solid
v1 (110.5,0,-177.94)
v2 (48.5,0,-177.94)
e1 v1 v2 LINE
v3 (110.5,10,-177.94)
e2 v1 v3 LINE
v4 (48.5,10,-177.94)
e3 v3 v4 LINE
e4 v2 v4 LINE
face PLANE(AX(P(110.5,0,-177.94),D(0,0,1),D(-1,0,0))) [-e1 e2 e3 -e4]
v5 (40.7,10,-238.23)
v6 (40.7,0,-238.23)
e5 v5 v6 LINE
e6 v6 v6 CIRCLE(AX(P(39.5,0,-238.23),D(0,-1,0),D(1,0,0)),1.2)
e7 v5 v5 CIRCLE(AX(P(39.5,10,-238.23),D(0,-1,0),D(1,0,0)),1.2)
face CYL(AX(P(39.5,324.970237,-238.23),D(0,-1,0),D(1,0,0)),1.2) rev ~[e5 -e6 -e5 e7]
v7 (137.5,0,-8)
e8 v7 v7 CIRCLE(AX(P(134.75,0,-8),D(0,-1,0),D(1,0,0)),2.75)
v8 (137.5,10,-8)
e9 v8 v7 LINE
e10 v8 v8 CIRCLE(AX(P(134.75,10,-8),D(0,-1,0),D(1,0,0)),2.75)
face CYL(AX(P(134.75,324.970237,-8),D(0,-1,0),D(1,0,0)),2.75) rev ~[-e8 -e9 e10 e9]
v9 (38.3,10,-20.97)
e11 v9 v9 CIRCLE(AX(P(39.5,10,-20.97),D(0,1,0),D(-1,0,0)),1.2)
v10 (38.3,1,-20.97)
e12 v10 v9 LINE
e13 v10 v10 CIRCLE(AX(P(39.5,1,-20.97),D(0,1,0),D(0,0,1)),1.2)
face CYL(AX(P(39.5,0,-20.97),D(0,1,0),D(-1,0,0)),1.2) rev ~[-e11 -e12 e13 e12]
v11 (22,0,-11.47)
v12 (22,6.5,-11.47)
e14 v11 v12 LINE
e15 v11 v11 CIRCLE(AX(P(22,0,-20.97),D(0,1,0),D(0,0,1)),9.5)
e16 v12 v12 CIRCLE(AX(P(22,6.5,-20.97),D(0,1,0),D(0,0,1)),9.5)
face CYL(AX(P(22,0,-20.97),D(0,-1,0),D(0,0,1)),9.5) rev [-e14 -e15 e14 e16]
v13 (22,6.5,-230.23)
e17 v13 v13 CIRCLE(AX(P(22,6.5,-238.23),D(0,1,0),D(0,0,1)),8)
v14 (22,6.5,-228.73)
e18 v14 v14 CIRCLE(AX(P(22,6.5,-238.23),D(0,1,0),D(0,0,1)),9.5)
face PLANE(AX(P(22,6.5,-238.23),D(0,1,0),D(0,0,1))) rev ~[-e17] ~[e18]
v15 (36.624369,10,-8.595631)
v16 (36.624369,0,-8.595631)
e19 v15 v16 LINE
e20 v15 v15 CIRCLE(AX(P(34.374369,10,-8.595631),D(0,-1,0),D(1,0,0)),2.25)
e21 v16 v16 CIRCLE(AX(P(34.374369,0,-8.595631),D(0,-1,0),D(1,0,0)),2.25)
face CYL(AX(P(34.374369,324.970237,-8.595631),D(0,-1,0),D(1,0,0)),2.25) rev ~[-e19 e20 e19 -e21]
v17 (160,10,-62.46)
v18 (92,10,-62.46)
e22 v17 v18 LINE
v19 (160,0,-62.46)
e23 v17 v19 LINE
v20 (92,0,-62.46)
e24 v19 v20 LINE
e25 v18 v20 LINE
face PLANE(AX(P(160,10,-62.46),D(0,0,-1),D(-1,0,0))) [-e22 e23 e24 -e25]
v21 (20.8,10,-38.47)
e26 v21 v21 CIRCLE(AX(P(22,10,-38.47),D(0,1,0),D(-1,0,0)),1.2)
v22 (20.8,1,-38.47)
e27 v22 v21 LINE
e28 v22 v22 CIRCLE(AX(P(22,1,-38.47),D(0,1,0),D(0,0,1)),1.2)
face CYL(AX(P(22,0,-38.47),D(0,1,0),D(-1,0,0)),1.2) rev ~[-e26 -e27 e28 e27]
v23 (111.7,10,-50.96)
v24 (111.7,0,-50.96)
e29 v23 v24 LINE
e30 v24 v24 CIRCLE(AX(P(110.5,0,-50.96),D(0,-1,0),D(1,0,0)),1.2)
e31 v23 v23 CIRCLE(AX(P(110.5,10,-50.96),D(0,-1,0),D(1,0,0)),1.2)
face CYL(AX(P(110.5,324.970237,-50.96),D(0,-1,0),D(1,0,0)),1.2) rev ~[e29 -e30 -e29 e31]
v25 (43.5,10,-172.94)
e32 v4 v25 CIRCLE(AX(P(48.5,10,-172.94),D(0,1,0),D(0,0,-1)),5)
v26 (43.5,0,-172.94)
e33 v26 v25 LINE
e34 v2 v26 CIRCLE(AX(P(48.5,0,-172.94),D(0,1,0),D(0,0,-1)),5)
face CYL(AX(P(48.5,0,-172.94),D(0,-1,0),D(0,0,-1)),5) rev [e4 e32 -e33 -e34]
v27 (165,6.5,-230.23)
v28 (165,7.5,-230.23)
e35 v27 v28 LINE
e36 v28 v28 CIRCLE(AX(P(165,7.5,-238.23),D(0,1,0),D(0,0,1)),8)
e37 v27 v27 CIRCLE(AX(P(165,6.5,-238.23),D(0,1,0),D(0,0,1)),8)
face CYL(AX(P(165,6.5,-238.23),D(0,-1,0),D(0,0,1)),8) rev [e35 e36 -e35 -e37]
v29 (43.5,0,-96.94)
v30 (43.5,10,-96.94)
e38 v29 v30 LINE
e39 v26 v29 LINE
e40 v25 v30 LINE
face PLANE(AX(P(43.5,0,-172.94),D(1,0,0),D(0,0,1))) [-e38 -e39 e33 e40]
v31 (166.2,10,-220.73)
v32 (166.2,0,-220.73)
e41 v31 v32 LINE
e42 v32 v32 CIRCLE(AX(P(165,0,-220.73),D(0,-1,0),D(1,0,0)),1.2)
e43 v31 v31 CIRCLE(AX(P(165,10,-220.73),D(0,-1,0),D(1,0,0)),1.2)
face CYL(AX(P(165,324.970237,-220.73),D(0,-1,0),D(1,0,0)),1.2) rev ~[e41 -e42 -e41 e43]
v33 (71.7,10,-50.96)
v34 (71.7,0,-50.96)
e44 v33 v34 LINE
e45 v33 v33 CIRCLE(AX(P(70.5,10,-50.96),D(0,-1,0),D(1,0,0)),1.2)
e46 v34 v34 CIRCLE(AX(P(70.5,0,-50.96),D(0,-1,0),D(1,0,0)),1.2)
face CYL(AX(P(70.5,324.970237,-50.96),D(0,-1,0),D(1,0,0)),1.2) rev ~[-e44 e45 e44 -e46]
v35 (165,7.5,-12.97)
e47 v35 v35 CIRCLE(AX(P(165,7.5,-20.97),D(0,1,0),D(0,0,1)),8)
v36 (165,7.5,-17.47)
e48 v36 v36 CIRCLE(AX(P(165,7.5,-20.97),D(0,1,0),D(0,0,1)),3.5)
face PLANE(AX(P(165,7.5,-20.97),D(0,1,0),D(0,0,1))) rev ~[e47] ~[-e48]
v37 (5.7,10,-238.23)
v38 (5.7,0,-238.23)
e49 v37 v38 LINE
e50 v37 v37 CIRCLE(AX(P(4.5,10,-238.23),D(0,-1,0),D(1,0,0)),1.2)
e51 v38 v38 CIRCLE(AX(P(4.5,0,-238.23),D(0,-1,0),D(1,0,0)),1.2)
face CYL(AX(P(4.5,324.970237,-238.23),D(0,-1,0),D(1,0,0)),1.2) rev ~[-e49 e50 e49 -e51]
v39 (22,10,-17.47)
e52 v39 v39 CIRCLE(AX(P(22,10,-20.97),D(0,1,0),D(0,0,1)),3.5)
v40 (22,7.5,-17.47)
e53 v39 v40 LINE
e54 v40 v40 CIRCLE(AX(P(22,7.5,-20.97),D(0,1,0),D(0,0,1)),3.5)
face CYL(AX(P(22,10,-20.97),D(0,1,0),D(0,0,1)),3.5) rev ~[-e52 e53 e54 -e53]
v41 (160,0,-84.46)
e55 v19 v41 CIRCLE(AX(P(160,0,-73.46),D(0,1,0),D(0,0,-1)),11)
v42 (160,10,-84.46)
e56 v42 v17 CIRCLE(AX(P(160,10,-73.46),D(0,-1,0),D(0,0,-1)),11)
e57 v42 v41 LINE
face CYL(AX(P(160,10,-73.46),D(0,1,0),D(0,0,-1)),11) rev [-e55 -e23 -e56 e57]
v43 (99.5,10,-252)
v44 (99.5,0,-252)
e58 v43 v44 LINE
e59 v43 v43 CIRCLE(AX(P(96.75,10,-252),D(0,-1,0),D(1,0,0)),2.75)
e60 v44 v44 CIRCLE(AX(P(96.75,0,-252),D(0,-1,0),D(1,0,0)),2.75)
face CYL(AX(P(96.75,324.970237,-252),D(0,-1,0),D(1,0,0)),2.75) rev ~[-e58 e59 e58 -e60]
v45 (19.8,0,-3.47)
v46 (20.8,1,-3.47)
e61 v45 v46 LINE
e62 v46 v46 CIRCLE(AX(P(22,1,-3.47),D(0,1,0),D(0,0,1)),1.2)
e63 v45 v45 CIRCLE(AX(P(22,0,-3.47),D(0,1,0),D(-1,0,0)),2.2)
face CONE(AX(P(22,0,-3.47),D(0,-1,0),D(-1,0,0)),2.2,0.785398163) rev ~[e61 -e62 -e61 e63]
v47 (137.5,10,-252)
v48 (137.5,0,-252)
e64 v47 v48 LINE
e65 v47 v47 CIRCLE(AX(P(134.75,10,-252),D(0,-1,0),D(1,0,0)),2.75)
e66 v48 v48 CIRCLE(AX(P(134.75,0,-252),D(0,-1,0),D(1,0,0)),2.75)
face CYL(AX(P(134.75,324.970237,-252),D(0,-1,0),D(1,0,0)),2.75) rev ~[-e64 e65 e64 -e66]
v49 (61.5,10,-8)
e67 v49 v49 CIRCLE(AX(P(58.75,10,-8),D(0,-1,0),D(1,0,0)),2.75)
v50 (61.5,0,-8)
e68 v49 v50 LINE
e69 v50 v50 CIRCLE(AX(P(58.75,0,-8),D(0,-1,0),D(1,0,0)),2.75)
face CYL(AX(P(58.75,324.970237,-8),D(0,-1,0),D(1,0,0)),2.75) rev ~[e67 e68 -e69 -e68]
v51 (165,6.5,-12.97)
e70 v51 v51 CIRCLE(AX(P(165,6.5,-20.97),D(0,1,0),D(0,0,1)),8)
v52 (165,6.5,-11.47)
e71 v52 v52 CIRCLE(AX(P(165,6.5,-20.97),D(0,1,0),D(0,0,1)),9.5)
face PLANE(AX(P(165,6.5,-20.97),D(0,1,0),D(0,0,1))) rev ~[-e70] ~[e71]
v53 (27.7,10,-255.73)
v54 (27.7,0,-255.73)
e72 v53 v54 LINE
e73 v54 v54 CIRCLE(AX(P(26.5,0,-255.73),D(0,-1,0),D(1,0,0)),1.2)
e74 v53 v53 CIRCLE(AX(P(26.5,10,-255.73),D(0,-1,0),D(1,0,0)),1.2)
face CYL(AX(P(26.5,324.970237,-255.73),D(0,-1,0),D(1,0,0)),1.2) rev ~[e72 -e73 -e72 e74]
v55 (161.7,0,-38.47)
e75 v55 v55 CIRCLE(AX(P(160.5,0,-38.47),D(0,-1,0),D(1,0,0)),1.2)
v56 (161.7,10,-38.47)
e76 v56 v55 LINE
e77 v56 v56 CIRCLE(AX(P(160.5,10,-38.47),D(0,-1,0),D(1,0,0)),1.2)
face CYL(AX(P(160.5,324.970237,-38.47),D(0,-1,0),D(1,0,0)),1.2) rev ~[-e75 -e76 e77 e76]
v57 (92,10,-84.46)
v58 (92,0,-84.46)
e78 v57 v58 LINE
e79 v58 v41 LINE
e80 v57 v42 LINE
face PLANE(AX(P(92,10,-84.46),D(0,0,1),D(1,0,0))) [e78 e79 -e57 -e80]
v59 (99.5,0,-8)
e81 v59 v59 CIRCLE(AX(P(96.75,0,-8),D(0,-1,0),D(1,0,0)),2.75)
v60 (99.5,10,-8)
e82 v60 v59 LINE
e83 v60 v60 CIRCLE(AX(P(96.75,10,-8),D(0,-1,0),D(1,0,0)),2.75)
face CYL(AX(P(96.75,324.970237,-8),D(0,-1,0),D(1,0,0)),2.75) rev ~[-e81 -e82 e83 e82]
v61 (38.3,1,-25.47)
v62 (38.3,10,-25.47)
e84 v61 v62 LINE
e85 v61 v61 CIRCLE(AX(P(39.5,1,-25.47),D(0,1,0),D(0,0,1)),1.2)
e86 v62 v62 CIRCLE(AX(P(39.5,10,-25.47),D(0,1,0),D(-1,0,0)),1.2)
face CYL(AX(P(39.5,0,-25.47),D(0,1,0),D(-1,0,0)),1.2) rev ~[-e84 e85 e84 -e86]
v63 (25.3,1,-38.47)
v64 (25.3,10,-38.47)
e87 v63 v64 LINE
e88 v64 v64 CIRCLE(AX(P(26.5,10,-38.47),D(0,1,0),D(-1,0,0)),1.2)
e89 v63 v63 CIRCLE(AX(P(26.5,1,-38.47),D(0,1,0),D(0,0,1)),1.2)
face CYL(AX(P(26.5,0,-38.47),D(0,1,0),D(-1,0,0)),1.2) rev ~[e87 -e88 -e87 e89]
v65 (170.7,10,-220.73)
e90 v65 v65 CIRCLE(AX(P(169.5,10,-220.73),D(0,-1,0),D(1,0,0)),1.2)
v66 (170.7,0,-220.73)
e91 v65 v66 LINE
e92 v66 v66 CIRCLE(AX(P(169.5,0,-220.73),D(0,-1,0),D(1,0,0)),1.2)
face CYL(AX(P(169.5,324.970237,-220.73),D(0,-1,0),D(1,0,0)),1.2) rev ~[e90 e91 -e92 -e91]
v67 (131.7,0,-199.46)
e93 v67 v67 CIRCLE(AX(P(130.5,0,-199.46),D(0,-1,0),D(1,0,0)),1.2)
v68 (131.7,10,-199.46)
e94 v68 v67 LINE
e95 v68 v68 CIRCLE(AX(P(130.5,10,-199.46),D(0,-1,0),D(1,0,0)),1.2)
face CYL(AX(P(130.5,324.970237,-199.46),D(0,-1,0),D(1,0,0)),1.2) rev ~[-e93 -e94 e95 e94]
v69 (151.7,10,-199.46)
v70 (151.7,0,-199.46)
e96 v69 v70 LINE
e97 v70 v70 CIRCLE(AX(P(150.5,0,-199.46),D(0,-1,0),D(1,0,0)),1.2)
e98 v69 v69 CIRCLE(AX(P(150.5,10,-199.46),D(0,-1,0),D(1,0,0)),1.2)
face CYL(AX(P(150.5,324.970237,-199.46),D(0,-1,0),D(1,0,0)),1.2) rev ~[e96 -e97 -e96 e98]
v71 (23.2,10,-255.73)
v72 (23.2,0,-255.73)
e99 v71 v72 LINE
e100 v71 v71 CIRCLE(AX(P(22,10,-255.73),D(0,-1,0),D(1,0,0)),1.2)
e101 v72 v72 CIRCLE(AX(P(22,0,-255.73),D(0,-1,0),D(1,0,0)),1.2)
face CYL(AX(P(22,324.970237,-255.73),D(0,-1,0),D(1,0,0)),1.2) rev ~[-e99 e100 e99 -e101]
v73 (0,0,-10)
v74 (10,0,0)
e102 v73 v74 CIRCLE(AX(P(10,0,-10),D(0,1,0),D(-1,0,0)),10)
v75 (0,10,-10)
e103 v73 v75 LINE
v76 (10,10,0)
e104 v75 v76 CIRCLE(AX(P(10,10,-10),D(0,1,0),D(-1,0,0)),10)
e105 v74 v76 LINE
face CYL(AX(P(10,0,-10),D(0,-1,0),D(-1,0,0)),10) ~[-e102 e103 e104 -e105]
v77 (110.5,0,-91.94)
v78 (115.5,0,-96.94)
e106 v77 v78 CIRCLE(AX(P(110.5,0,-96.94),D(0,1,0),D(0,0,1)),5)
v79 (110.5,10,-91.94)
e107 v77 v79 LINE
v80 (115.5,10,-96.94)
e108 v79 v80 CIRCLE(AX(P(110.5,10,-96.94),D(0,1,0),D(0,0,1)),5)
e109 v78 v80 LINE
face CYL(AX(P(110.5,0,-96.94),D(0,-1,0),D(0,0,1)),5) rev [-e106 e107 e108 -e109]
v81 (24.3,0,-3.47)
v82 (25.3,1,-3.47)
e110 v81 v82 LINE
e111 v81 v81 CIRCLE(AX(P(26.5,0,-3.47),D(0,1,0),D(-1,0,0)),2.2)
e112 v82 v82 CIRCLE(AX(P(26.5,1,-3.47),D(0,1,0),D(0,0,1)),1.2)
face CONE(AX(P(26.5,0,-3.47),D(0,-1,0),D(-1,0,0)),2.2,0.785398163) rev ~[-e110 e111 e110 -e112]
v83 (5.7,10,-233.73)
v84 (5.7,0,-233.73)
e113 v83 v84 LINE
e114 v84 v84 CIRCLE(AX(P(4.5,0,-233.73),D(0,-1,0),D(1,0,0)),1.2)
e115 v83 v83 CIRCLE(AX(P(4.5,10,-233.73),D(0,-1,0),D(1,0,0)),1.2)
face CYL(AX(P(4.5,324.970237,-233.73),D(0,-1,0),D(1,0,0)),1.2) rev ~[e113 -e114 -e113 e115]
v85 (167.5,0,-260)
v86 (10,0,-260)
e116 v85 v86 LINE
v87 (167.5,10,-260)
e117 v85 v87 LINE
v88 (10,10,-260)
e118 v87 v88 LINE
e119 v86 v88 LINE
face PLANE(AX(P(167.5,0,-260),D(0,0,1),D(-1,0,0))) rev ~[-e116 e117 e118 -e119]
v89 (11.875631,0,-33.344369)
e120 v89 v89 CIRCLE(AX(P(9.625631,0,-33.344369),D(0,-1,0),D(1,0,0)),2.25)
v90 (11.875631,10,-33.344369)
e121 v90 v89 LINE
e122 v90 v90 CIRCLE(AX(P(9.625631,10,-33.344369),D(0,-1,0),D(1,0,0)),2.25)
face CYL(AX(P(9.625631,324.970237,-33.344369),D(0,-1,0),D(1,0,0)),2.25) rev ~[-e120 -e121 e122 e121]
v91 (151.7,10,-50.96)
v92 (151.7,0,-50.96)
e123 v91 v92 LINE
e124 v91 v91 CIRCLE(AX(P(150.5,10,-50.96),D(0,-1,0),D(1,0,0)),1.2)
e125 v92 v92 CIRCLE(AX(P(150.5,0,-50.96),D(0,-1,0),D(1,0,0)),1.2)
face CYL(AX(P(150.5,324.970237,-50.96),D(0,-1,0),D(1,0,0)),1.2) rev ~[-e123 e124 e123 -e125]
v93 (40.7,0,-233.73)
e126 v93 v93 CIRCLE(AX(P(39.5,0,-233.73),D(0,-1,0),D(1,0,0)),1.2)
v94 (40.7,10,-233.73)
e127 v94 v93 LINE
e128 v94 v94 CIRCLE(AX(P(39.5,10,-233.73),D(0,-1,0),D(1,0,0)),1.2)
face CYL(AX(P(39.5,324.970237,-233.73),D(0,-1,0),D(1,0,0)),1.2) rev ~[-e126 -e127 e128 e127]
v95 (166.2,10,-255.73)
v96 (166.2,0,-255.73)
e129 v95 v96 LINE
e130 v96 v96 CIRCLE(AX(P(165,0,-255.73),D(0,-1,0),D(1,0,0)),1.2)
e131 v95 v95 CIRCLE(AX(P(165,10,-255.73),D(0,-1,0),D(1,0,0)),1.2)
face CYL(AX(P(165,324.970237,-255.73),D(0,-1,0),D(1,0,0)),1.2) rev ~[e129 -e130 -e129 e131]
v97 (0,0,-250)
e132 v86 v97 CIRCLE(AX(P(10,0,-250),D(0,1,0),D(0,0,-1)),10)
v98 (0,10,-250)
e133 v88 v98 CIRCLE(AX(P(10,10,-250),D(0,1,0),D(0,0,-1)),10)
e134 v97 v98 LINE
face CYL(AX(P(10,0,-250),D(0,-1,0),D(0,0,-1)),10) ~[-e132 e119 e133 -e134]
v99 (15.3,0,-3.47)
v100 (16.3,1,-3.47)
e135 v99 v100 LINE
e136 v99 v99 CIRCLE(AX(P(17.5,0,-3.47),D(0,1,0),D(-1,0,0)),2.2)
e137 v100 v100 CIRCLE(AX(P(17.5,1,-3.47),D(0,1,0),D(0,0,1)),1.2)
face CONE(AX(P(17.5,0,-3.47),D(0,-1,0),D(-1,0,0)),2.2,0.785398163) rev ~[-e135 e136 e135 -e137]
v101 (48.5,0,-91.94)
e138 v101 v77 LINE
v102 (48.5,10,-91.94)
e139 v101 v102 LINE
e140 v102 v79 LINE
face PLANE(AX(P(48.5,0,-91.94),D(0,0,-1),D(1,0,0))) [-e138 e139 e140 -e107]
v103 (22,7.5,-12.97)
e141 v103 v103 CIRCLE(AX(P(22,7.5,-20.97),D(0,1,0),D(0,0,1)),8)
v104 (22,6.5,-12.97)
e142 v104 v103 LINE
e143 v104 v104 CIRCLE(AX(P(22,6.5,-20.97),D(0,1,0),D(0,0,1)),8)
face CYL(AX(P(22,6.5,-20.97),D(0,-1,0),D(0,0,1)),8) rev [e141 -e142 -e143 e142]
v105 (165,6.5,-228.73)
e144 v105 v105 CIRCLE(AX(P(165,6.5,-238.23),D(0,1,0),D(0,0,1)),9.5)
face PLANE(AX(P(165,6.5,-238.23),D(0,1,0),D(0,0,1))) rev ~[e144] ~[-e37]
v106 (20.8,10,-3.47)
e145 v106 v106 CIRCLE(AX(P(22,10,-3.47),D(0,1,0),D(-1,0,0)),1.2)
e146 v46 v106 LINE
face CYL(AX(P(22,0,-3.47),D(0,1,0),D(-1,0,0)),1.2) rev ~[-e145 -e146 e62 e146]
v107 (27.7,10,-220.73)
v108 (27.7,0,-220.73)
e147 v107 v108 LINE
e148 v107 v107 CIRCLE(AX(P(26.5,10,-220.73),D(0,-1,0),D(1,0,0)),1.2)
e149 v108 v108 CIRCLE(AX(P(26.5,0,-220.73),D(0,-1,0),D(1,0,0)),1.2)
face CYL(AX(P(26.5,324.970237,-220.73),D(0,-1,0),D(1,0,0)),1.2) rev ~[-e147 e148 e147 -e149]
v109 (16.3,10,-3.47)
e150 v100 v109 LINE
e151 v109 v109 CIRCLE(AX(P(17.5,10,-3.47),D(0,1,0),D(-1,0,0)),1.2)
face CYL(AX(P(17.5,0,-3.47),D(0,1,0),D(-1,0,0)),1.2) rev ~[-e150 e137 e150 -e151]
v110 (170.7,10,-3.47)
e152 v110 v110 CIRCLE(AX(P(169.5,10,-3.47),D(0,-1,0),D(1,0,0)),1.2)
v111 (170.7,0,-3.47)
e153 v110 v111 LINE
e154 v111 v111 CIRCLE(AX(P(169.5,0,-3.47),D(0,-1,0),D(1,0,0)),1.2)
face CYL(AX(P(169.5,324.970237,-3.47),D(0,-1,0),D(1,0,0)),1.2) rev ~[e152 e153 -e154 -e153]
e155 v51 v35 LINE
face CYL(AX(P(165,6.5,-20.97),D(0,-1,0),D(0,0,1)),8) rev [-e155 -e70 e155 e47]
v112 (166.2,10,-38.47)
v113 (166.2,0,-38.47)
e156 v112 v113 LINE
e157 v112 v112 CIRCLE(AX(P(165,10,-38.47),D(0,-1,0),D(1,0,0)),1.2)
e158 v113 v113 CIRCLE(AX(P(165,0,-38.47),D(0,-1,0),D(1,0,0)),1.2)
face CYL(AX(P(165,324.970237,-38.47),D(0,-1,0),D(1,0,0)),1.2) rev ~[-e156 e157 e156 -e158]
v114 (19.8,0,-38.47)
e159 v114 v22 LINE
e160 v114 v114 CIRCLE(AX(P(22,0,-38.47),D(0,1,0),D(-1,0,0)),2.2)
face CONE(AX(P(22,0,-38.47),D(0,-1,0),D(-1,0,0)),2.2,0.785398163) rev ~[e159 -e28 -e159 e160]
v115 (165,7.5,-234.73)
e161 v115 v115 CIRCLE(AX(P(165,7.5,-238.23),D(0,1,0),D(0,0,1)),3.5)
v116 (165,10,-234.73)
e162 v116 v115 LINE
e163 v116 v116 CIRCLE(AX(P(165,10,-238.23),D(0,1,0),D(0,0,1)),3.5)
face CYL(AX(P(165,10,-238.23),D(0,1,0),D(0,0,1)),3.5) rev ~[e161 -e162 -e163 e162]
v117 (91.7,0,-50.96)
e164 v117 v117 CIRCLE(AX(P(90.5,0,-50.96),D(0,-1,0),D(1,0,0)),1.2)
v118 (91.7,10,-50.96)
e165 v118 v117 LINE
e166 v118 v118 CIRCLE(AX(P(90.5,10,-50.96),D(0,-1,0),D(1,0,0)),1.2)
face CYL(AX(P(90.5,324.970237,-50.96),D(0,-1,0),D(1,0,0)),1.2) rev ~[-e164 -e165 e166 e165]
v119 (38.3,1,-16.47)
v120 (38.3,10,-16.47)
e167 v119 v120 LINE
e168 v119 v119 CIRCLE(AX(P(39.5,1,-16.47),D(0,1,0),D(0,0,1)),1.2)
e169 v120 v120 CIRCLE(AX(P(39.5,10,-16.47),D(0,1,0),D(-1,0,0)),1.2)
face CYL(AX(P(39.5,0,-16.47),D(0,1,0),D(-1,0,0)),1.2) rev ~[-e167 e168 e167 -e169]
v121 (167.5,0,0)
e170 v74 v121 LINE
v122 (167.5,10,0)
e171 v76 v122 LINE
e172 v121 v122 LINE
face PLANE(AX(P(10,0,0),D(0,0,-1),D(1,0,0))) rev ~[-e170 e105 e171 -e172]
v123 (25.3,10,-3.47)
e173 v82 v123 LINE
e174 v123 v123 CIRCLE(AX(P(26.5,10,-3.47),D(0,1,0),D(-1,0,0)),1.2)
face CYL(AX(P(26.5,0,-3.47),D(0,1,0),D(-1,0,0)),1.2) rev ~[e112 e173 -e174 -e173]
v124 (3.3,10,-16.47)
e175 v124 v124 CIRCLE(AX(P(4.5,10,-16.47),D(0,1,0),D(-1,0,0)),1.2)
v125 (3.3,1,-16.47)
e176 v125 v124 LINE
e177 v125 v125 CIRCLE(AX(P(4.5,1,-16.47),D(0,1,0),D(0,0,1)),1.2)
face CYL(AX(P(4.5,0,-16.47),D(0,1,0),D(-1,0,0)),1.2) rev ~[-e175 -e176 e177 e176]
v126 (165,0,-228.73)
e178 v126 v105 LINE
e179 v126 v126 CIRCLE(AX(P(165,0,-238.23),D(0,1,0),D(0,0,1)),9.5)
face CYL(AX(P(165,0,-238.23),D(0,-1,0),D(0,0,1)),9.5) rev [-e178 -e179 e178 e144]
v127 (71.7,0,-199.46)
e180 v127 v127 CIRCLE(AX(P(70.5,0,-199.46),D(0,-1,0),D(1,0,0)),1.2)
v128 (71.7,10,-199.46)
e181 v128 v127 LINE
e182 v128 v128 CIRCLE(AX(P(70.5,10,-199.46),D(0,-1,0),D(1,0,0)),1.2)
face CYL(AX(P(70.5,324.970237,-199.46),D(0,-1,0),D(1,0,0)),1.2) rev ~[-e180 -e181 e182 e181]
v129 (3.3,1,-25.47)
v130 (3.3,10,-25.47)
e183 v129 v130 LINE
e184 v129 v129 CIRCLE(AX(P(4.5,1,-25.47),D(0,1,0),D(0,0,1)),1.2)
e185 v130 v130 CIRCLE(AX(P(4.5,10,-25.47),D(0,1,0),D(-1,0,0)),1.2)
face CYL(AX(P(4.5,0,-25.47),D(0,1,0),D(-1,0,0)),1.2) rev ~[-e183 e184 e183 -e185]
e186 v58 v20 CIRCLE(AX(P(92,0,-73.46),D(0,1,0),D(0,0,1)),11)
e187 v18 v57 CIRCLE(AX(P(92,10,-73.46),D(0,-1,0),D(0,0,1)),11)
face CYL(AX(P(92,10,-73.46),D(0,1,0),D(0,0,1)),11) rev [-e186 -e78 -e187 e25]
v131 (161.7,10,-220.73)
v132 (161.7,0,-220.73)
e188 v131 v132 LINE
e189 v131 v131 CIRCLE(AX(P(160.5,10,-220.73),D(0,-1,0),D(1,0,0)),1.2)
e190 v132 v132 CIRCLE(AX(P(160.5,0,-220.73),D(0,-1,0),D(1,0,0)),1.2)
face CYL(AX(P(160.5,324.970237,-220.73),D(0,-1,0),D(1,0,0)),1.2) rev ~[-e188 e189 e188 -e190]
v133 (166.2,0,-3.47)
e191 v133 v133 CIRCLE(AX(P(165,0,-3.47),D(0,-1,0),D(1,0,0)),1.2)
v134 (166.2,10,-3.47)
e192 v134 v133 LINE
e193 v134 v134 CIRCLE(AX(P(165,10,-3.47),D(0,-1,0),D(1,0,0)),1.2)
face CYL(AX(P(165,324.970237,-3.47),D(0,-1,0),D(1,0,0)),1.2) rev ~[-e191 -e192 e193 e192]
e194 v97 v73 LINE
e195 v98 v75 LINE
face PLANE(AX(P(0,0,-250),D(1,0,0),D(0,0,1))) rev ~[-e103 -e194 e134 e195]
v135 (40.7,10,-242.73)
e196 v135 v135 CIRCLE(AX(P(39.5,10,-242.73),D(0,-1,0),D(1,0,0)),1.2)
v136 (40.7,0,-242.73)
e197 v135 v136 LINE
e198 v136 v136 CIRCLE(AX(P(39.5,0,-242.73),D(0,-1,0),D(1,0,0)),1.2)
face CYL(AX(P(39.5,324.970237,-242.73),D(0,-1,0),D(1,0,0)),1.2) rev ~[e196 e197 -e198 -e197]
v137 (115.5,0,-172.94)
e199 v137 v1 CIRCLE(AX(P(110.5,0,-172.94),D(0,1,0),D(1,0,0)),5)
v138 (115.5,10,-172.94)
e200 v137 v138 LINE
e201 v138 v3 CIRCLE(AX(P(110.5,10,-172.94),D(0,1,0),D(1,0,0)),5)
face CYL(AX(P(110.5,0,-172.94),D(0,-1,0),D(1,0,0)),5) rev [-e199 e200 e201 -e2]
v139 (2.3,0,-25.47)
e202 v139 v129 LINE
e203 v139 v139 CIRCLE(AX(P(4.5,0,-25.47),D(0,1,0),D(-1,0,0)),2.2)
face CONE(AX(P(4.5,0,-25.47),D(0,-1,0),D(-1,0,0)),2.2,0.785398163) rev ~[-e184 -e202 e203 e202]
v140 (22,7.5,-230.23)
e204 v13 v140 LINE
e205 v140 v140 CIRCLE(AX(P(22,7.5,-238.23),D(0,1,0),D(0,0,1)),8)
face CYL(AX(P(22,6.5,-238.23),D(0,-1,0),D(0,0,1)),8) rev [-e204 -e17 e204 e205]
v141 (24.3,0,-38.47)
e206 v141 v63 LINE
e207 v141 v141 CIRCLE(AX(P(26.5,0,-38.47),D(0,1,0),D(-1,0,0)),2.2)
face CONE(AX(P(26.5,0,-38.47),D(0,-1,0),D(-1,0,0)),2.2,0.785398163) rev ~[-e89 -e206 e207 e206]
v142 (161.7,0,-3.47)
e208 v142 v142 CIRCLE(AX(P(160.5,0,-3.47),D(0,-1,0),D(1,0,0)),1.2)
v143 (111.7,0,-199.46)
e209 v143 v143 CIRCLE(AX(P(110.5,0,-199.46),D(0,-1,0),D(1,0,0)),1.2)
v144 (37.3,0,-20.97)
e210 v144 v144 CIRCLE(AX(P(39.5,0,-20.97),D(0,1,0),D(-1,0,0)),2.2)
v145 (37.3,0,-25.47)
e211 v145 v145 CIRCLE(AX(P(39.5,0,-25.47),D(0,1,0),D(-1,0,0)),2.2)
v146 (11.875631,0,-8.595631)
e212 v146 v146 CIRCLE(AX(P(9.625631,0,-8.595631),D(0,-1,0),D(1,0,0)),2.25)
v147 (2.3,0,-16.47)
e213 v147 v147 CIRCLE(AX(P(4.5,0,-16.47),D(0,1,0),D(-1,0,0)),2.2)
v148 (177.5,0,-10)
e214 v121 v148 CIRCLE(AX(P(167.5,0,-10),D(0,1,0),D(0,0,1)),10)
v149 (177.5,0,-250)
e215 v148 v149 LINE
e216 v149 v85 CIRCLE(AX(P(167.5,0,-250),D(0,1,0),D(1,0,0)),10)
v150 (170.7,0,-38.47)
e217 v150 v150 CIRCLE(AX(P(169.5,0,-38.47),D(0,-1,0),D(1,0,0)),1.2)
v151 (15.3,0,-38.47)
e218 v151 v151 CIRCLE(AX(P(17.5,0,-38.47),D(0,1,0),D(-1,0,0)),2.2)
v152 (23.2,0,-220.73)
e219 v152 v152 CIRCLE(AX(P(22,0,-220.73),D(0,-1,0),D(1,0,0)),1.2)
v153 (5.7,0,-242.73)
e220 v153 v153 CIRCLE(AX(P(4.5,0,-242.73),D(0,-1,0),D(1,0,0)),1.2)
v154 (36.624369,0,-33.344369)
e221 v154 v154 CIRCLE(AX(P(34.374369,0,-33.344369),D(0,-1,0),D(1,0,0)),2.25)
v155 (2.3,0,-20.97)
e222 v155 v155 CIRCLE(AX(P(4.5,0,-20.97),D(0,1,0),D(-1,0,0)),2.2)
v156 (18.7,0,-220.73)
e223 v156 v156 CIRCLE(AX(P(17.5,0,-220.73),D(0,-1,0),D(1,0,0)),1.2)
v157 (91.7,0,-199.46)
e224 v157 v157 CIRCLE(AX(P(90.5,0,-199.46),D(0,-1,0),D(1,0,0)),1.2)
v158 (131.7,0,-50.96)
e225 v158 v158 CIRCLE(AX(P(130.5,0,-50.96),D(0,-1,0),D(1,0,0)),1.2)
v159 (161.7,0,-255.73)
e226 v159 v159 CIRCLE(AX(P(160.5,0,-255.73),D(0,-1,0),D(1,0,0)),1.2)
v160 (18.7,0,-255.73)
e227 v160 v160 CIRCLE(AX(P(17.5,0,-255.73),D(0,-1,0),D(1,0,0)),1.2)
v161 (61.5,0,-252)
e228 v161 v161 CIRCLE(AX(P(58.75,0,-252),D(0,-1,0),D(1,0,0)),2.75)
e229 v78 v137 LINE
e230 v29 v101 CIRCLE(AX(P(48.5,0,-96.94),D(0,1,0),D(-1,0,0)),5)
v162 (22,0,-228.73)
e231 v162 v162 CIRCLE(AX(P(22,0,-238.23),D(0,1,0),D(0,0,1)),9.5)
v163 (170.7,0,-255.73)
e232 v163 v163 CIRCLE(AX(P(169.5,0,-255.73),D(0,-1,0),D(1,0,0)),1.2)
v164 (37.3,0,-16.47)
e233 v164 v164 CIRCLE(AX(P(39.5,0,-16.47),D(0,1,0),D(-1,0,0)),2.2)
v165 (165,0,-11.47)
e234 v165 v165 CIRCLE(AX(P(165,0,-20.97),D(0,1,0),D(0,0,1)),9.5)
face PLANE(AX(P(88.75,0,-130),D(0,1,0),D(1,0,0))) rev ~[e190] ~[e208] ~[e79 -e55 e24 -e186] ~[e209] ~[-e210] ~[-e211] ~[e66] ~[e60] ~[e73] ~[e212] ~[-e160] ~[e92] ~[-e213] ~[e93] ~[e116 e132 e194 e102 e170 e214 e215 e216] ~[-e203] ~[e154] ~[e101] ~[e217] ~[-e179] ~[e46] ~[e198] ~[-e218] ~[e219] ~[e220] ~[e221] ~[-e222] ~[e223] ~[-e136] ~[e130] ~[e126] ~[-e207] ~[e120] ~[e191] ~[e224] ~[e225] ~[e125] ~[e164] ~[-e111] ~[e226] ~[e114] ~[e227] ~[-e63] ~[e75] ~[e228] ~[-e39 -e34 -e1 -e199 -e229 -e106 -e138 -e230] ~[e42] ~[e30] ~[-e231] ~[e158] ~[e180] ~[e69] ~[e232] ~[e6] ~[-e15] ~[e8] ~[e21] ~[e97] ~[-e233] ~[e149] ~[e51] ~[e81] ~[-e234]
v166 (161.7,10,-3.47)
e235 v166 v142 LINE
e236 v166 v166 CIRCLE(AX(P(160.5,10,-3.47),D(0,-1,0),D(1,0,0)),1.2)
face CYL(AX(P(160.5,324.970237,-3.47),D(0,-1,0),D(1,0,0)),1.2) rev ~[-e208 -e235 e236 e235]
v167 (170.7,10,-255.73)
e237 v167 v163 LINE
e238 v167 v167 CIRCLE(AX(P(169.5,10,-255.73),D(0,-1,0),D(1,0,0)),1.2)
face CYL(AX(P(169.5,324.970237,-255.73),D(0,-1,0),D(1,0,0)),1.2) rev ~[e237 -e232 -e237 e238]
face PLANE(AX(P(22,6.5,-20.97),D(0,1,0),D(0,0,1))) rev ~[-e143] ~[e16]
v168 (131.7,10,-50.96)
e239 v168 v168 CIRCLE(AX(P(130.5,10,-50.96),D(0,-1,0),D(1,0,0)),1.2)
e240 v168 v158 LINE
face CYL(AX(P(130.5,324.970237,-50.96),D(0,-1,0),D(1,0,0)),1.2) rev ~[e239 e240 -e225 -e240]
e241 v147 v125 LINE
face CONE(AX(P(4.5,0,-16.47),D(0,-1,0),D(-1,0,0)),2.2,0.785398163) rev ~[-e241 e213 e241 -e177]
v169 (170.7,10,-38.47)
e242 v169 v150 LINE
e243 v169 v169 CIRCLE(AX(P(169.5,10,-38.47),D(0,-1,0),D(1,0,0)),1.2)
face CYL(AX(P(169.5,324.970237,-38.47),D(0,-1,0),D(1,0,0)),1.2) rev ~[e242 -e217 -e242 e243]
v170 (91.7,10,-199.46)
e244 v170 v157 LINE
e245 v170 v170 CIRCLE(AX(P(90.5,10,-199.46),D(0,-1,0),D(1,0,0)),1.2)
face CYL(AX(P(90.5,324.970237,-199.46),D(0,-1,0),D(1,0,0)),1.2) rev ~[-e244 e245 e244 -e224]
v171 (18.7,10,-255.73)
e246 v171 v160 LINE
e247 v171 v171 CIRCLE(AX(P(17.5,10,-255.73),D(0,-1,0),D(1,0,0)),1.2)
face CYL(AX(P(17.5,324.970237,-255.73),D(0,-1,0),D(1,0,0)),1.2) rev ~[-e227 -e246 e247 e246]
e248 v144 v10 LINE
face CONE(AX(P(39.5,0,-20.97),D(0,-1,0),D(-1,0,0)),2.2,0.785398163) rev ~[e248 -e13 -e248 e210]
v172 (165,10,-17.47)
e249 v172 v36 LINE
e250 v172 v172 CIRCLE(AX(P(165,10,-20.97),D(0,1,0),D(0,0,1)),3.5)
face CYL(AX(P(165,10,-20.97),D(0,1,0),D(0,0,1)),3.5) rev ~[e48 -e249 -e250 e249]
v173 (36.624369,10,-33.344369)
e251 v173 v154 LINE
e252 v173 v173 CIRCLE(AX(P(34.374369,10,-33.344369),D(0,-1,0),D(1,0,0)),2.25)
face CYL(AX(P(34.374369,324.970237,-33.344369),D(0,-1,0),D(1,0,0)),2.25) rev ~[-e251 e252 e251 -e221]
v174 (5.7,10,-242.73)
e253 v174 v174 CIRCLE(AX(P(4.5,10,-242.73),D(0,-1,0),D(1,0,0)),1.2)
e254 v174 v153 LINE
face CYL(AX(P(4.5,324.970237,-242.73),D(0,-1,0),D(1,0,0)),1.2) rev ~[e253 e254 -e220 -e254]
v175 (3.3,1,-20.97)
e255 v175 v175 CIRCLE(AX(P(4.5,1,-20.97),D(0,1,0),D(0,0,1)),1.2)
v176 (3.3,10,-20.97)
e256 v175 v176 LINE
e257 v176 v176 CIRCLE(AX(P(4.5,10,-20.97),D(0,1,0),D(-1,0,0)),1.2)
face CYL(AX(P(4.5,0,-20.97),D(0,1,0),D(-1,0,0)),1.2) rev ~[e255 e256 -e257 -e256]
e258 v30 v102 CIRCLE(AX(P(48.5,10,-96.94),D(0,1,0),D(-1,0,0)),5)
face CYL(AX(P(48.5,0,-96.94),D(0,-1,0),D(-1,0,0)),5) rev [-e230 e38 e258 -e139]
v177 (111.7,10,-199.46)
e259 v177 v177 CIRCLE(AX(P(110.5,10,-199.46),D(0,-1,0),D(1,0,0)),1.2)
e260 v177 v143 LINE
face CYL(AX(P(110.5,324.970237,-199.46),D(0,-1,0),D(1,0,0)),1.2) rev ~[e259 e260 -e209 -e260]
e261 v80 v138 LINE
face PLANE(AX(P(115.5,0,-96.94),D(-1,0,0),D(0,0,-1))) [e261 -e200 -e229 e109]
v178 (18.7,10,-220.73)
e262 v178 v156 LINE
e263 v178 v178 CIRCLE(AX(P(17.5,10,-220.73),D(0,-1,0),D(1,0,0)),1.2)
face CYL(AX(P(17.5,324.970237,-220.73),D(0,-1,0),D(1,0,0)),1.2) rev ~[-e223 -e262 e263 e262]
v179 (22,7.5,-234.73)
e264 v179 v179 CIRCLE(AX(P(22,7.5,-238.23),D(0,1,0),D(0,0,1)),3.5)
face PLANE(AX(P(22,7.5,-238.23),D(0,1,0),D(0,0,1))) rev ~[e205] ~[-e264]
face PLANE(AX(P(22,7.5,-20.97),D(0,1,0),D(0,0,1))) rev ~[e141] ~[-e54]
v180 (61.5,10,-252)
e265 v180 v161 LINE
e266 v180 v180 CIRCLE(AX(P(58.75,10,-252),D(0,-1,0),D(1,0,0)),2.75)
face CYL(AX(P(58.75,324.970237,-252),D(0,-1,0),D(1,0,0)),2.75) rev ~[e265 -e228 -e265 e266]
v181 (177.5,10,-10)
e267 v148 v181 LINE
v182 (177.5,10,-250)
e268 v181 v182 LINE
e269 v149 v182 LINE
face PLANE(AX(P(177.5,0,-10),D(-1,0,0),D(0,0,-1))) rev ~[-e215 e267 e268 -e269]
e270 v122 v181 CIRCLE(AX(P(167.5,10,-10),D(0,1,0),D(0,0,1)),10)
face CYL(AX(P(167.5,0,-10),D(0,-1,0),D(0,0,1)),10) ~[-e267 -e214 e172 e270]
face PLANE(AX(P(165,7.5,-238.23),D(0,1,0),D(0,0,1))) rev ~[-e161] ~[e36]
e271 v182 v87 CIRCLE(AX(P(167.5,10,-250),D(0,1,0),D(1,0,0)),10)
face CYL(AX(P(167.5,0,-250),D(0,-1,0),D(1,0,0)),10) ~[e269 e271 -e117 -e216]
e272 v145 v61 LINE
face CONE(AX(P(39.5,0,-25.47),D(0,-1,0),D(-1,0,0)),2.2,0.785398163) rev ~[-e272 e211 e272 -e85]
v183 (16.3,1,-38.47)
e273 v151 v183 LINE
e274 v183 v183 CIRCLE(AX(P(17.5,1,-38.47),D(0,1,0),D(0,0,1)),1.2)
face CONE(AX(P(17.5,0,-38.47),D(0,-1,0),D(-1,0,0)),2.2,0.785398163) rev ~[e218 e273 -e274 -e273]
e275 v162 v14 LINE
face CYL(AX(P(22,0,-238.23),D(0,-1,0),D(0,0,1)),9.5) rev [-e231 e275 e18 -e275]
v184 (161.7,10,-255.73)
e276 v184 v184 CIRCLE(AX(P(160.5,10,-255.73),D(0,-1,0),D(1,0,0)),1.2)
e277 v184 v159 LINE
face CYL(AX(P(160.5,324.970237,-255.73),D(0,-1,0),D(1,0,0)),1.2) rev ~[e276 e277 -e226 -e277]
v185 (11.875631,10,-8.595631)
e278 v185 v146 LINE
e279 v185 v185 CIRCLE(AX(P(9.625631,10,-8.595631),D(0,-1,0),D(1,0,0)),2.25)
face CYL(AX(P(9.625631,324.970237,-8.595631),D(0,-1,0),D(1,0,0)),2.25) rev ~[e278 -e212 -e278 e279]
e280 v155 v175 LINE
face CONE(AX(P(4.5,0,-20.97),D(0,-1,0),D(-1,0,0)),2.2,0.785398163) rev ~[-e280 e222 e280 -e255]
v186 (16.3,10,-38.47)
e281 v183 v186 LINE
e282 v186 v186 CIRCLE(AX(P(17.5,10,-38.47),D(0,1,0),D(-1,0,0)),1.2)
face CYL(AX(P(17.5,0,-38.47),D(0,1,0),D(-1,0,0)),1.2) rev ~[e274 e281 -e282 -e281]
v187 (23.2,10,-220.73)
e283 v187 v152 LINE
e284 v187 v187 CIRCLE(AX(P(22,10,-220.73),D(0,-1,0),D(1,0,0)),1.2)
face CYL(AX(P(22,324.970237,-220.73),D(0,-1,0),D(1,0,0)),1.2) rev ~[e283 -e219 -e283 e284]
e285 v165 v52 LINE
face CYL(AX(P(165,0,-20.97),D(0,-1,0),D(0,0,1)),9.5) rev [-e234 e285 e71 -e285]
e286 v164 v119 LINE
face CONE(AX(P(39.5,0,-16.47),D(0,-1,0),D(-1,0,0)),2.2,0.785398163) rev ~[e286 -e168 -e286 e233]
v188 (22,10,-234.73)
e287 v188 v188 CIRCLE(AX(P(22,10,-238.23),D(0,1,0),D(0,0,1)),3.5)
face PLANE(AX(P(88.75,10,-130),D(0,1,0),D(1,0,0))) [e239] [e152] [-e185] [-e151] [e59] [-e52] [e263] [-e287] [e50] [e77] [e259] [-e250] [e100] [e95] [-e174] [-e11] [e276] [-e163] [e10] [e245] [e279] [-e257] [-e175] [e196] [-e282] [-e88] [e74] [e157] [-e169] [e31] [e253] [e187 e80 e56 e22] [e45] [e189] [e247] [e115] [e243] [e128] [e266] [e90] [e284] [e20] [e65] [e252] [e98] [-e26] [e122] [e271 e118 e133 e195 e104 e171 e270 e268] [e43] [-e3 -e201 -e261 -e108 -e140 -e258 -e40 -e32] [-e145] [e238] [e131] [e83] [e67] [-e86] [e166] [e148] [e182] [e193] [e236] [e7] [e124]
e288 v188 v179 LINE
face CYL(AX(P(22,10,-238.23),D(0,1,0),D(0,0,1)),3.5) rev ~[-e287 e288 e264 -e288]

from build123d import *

# Parameters (mm, degrees)
BOSS_EXTRUDE1_DEPTH                                 = 10
CUT_EXTRUDE2_DEPTH                                  = 11
SKETCH5_R                                           = 9.5
CUT_EXTRUDE4_DEPTH                                  = 6.5
SKETCH7_R                                           = 8
CUT_EXTRUDE5_DEPTH                                  = 1
SKETCH8_R                                           = 3.5
CUT_EXTRUDE6_DEPTH                                  = 11
M4_CLEARANCE_HOLE1_D                                = 4.5
M2_CLEARANCE_HOLE1_D                                = 2.4
M2_CLEARANCE_HOLE2_D                                = 2.4
CSK_FOR_M2_COUNTERSUNK_FLAT_HEAD_SCREW1_D           = 2.4
CSK_FOR_M2_COUNTERSUNK_FLAT_HEAD_SCREW1_CSINK_D     = 4.4
CSK_FOR_M2_COUNTERSUNK_FLAT_HEAD_SCREW1_CSINK_ANGLE = 90
M5_CLEARANCE_HOLE1_D                                = 5.5


with BuildPart() as part:
    # Sketch1 → Boss-Extrude1 (new body)
    with BuildSketch(Plane(origin=(0, 0, 0), x_dir=(1, 0, 0), z_dir=(0, 1, 0))):
        with BuildLine():
            Line((10, 0), (167.5, 0))
            ThreePointArc((167.5, 0), (174.571067812, 2.928932188), (177.5, 10))
            Line((177.5, 10), (177.5, 250))
            ThreePointArc((177.5, 250), (174.571067812, 257.071067812), (167.5, 260))
            Line((167.5, 260), (10, 260))
            ThreePointArc((10, 260), (2.928932188, 257.071067812), (0, 250))
            Line((0, 250), (0, 10))
            ThreePointArc((0, 10), (2.928932188, 2.928932188), (10, 0))
        make_face()
        with BuildLine():
            Line((48.5, 91.94), (110.5, 91.94))
            ThreePointArc((110.5, 91.94), (114.035533906, 93.404466094), (115.5, 96.94))
            Line((115.5, 96.94), (115.5, 172.94))
            ThreePointArc((115.5, 172.94), (114.035533906, 176.475533906), (110.5, 177.94))
            Line((110.5, 177.94), (48.5, 177.94))
            ThreePointArc((48.5, 177.94), (44.964466094, 176.475533906), (43.5, 172.94))
            Line((43.5, 172.94), (43.5, 96.94))
            ThreePointArc((43.5, 96.94), (44.964466094, 93.404466094), (48.5, 91.94))
        make_face(mode=Mode.SUBTRACT)
    extrude(amount=BOSS_EXTRUDE1_DEPTH)

    # Sketch3 → Cut-Extrude2 (cut, through all)
    with BuildSketch(Plane(origin=(0, 10, 0), x_dir=(1, 0, 0), z_dir=(0, 1, 0))):
        with BuildLine():
            Line((92, 84.46), (160, 84.46))
            ThreePointArc((160, 84.46), (171, 73.46), (160, 62.46))
            Line((160, 62.46), (92, 62.46))
            ThreePointArc((92, 62.46), (81, 73.46), (92, 84.46))
        make_face()
    extrude(amount=-CUT_EXTRUDE2_DEPTH, mode=Mode.SUBTRACT)

    # Sketch5 → Cut-Extrude4 (cut)
    with BuildSketch(Plane(origin=(0, 0, 0), x_dir=(1, 0, 0), z_dir=(0, 1, 0))):
        with Locations(Location((22, 20.97, 0), (0, 0, 270))):  # turned: the seam where the file's is
            Circle(SKETCH5_R)
        with Locations(Location((165, 20.97, 0), (0, 0, 270))):  # turned: the seam where the file's is
            Circle(SKETCH5_R)
        with Locations(Location((165, 238.23, 0), (0, 0, 270))):  # turned: the seam where the file's is
            Circle(SKETCH5_R)
        with Locations(Location((22, 238.23, 0), (0, 0, 270))):  # turned: the seam where the file's is
            Circle(SKETCH5_R)
    extrude(amount=CUT_EXTRUDE4_DEPTH, mode=Mode.SUBTRACT)

    # Sketch7 → Cut-Extrude5 (cut)
    with BuildSketch(Plane(origin=(0, 6.5, 0), x_dir=(1, 0, 0), z_dir=(0, 1, 0))):
        with Locations(Location((22, 20.97, 0), (0, 0, 270))):  # turned: the seam where the file's is
            Circle(SKETCH7_R)
        with Locations(Location((165, 20.97, 0), (0, 0, 270))):  # turned: the seam where the file's is
            Circle(SKETCH7_R)
        with Locations(Location((165, 238.23, 0), (0, 0, 270))):  # turned: the seam where the file's is
            Circle(SKETCH7_R)
        with Locations(Location((22, 238.23, 0), (0, 0, 270))):  # turned: the seam where the file's is
            Circle(SKETCH7_R)
    extrude(amount=CUT_EXTRUDE5_DEPTH, mode=Mode.SUBTRACT)

    # Sketch8 → Cut-Extrude6 (cut, through all)
    with BuildSketch(Plane(origin=(0, 10, 0), x_dir=(1, 0, 0), z_dir=(0, 1, 0))):
        with Locations(Location((22, 20.97, 0), (0, 0, 270))):  # turned: the seam where the file's is
            Circle(SKETCH8_R)
        with Locations(Location((165, 20.97, 0), (0, 0, 270))):  # turned: the seam where the file's is
            Circle(SKETCH8_R)
        with Locations(Location((165, 238.23, 0), (0, 0, 270))):  # turned: the seam where the file's is
            Circle(SKETCH8_R)
        with Locations(Location((22, 238.23, 0), (0, 0, 270))):  # turned: the seam where the file's is
            Circle(SKETCH8_R)
    extrude(amount=-CUT_EXTRUDE6_DEPTH, mode=Mode.SUBTRACT)

    # M4 Clearance Hole1 (through all)
    with Locations(Plane(origin=(0, 10, 0), x_dir=(-1, 0, 0), z_dir=(0, 1, 0))):
        with Locations((-9.625631329, -33.344368671), (-34.374368671, -33.344368671), (-34.374368671, -8.595631329), (-9.625631329, -8.595631329)):
            Hole(M4_CLEARANCE_HOLE1_D / 2)

    # M2 Clearance Hole1 (through all)
    with Locations(Plane(origin=(0, 10, 0), x_dir=(-1, 0, 0), z_dir=(0, 1, 0))):
        with Locations((-150.5, -50.96), (-130.5, -50.96), (-110.5, -50.96), (-90.5, -50.96), (-70.5, -50.96), (-70.5, -199.46), (-90.5, -199.46), (-110.5, -199.46), (-130.5, -199.46), (-150.5, -199.46)):
            Hole(M2_CLEARANCE_HOLE1_D / 2)

    # M2 Clearance Hole2 (through all)
    with Locations(Plane(origin=(0, 10, 0), x_dir=(-1, 0, 0), z_dir=(0, 1, 0))):
        with Locations((-165, -3.47), (-169.5, -3.47), (-160.5, -3.47), (-160.5, -38.47), (-169.5, -38.47), (-165, -38.47), (-165, -220.73), (-169.5, -220.73), (-160.5, -220.73), (-160.5, -255.73), (-169.5, -255.73), (-165, -255.73), (-39.5, -242.73), (-39.5, -233.73), (-39.5, -238.23), (-22, -255.73), (-17.5, -255.73), (-26.5, -255.73), (-26.5, -220.73), (-17.5, -220.73), (-22, -220.73), (-4.5, -238.23), (-4.5, -233.73), (-4.5, -242.73)):
            Hole(M2_CLEARANCE_HOLE2_D / 2)

    # CSK for M2 Countersunk Flat Head Screw1 (through all)
    with Locations(Plane.XZ):
        with Locations((17.5, -3.47), (22, -3.47), (26.5, -3.47), (39.5, -16.47), (39.5, -20.97), (39.5, -25.47), (4.5, -25.47), (4.5, -20.97), (4.5, -16.47), (26.5, -38.47), (22, -38.47), (17.5, -38.47)):
            CounterSinkHole(CSK_FOR_M2_COUNTERSUNK_FLAT_HEAD_SCREW1_D / 2, CSK_FOR_M2_COUNTERSUNK_FLAT_HEAD_SCREW1_CSINK_D / 2, counter_sink_angle=CSK_FOR_M2_COUNTERSUNK_FLAT_HEAD_SCREW1_CSINK_ANGLE)

    # M5 Clearance Hole1 (through all)
    with Locations(Plane(origin=(0, 10, 0), x_dir=(-1, 0, 0), z_dir=(0, 1, 0))):
        with Locations((-58.75, -8), (-96.75, -8), (-134.75, -8), (-134.75, -252), (-96.75, -252), (-58.75, -252)):
            Hole(M5_CLEARANCE_HOLE1_D / 2)


solid = part.part
